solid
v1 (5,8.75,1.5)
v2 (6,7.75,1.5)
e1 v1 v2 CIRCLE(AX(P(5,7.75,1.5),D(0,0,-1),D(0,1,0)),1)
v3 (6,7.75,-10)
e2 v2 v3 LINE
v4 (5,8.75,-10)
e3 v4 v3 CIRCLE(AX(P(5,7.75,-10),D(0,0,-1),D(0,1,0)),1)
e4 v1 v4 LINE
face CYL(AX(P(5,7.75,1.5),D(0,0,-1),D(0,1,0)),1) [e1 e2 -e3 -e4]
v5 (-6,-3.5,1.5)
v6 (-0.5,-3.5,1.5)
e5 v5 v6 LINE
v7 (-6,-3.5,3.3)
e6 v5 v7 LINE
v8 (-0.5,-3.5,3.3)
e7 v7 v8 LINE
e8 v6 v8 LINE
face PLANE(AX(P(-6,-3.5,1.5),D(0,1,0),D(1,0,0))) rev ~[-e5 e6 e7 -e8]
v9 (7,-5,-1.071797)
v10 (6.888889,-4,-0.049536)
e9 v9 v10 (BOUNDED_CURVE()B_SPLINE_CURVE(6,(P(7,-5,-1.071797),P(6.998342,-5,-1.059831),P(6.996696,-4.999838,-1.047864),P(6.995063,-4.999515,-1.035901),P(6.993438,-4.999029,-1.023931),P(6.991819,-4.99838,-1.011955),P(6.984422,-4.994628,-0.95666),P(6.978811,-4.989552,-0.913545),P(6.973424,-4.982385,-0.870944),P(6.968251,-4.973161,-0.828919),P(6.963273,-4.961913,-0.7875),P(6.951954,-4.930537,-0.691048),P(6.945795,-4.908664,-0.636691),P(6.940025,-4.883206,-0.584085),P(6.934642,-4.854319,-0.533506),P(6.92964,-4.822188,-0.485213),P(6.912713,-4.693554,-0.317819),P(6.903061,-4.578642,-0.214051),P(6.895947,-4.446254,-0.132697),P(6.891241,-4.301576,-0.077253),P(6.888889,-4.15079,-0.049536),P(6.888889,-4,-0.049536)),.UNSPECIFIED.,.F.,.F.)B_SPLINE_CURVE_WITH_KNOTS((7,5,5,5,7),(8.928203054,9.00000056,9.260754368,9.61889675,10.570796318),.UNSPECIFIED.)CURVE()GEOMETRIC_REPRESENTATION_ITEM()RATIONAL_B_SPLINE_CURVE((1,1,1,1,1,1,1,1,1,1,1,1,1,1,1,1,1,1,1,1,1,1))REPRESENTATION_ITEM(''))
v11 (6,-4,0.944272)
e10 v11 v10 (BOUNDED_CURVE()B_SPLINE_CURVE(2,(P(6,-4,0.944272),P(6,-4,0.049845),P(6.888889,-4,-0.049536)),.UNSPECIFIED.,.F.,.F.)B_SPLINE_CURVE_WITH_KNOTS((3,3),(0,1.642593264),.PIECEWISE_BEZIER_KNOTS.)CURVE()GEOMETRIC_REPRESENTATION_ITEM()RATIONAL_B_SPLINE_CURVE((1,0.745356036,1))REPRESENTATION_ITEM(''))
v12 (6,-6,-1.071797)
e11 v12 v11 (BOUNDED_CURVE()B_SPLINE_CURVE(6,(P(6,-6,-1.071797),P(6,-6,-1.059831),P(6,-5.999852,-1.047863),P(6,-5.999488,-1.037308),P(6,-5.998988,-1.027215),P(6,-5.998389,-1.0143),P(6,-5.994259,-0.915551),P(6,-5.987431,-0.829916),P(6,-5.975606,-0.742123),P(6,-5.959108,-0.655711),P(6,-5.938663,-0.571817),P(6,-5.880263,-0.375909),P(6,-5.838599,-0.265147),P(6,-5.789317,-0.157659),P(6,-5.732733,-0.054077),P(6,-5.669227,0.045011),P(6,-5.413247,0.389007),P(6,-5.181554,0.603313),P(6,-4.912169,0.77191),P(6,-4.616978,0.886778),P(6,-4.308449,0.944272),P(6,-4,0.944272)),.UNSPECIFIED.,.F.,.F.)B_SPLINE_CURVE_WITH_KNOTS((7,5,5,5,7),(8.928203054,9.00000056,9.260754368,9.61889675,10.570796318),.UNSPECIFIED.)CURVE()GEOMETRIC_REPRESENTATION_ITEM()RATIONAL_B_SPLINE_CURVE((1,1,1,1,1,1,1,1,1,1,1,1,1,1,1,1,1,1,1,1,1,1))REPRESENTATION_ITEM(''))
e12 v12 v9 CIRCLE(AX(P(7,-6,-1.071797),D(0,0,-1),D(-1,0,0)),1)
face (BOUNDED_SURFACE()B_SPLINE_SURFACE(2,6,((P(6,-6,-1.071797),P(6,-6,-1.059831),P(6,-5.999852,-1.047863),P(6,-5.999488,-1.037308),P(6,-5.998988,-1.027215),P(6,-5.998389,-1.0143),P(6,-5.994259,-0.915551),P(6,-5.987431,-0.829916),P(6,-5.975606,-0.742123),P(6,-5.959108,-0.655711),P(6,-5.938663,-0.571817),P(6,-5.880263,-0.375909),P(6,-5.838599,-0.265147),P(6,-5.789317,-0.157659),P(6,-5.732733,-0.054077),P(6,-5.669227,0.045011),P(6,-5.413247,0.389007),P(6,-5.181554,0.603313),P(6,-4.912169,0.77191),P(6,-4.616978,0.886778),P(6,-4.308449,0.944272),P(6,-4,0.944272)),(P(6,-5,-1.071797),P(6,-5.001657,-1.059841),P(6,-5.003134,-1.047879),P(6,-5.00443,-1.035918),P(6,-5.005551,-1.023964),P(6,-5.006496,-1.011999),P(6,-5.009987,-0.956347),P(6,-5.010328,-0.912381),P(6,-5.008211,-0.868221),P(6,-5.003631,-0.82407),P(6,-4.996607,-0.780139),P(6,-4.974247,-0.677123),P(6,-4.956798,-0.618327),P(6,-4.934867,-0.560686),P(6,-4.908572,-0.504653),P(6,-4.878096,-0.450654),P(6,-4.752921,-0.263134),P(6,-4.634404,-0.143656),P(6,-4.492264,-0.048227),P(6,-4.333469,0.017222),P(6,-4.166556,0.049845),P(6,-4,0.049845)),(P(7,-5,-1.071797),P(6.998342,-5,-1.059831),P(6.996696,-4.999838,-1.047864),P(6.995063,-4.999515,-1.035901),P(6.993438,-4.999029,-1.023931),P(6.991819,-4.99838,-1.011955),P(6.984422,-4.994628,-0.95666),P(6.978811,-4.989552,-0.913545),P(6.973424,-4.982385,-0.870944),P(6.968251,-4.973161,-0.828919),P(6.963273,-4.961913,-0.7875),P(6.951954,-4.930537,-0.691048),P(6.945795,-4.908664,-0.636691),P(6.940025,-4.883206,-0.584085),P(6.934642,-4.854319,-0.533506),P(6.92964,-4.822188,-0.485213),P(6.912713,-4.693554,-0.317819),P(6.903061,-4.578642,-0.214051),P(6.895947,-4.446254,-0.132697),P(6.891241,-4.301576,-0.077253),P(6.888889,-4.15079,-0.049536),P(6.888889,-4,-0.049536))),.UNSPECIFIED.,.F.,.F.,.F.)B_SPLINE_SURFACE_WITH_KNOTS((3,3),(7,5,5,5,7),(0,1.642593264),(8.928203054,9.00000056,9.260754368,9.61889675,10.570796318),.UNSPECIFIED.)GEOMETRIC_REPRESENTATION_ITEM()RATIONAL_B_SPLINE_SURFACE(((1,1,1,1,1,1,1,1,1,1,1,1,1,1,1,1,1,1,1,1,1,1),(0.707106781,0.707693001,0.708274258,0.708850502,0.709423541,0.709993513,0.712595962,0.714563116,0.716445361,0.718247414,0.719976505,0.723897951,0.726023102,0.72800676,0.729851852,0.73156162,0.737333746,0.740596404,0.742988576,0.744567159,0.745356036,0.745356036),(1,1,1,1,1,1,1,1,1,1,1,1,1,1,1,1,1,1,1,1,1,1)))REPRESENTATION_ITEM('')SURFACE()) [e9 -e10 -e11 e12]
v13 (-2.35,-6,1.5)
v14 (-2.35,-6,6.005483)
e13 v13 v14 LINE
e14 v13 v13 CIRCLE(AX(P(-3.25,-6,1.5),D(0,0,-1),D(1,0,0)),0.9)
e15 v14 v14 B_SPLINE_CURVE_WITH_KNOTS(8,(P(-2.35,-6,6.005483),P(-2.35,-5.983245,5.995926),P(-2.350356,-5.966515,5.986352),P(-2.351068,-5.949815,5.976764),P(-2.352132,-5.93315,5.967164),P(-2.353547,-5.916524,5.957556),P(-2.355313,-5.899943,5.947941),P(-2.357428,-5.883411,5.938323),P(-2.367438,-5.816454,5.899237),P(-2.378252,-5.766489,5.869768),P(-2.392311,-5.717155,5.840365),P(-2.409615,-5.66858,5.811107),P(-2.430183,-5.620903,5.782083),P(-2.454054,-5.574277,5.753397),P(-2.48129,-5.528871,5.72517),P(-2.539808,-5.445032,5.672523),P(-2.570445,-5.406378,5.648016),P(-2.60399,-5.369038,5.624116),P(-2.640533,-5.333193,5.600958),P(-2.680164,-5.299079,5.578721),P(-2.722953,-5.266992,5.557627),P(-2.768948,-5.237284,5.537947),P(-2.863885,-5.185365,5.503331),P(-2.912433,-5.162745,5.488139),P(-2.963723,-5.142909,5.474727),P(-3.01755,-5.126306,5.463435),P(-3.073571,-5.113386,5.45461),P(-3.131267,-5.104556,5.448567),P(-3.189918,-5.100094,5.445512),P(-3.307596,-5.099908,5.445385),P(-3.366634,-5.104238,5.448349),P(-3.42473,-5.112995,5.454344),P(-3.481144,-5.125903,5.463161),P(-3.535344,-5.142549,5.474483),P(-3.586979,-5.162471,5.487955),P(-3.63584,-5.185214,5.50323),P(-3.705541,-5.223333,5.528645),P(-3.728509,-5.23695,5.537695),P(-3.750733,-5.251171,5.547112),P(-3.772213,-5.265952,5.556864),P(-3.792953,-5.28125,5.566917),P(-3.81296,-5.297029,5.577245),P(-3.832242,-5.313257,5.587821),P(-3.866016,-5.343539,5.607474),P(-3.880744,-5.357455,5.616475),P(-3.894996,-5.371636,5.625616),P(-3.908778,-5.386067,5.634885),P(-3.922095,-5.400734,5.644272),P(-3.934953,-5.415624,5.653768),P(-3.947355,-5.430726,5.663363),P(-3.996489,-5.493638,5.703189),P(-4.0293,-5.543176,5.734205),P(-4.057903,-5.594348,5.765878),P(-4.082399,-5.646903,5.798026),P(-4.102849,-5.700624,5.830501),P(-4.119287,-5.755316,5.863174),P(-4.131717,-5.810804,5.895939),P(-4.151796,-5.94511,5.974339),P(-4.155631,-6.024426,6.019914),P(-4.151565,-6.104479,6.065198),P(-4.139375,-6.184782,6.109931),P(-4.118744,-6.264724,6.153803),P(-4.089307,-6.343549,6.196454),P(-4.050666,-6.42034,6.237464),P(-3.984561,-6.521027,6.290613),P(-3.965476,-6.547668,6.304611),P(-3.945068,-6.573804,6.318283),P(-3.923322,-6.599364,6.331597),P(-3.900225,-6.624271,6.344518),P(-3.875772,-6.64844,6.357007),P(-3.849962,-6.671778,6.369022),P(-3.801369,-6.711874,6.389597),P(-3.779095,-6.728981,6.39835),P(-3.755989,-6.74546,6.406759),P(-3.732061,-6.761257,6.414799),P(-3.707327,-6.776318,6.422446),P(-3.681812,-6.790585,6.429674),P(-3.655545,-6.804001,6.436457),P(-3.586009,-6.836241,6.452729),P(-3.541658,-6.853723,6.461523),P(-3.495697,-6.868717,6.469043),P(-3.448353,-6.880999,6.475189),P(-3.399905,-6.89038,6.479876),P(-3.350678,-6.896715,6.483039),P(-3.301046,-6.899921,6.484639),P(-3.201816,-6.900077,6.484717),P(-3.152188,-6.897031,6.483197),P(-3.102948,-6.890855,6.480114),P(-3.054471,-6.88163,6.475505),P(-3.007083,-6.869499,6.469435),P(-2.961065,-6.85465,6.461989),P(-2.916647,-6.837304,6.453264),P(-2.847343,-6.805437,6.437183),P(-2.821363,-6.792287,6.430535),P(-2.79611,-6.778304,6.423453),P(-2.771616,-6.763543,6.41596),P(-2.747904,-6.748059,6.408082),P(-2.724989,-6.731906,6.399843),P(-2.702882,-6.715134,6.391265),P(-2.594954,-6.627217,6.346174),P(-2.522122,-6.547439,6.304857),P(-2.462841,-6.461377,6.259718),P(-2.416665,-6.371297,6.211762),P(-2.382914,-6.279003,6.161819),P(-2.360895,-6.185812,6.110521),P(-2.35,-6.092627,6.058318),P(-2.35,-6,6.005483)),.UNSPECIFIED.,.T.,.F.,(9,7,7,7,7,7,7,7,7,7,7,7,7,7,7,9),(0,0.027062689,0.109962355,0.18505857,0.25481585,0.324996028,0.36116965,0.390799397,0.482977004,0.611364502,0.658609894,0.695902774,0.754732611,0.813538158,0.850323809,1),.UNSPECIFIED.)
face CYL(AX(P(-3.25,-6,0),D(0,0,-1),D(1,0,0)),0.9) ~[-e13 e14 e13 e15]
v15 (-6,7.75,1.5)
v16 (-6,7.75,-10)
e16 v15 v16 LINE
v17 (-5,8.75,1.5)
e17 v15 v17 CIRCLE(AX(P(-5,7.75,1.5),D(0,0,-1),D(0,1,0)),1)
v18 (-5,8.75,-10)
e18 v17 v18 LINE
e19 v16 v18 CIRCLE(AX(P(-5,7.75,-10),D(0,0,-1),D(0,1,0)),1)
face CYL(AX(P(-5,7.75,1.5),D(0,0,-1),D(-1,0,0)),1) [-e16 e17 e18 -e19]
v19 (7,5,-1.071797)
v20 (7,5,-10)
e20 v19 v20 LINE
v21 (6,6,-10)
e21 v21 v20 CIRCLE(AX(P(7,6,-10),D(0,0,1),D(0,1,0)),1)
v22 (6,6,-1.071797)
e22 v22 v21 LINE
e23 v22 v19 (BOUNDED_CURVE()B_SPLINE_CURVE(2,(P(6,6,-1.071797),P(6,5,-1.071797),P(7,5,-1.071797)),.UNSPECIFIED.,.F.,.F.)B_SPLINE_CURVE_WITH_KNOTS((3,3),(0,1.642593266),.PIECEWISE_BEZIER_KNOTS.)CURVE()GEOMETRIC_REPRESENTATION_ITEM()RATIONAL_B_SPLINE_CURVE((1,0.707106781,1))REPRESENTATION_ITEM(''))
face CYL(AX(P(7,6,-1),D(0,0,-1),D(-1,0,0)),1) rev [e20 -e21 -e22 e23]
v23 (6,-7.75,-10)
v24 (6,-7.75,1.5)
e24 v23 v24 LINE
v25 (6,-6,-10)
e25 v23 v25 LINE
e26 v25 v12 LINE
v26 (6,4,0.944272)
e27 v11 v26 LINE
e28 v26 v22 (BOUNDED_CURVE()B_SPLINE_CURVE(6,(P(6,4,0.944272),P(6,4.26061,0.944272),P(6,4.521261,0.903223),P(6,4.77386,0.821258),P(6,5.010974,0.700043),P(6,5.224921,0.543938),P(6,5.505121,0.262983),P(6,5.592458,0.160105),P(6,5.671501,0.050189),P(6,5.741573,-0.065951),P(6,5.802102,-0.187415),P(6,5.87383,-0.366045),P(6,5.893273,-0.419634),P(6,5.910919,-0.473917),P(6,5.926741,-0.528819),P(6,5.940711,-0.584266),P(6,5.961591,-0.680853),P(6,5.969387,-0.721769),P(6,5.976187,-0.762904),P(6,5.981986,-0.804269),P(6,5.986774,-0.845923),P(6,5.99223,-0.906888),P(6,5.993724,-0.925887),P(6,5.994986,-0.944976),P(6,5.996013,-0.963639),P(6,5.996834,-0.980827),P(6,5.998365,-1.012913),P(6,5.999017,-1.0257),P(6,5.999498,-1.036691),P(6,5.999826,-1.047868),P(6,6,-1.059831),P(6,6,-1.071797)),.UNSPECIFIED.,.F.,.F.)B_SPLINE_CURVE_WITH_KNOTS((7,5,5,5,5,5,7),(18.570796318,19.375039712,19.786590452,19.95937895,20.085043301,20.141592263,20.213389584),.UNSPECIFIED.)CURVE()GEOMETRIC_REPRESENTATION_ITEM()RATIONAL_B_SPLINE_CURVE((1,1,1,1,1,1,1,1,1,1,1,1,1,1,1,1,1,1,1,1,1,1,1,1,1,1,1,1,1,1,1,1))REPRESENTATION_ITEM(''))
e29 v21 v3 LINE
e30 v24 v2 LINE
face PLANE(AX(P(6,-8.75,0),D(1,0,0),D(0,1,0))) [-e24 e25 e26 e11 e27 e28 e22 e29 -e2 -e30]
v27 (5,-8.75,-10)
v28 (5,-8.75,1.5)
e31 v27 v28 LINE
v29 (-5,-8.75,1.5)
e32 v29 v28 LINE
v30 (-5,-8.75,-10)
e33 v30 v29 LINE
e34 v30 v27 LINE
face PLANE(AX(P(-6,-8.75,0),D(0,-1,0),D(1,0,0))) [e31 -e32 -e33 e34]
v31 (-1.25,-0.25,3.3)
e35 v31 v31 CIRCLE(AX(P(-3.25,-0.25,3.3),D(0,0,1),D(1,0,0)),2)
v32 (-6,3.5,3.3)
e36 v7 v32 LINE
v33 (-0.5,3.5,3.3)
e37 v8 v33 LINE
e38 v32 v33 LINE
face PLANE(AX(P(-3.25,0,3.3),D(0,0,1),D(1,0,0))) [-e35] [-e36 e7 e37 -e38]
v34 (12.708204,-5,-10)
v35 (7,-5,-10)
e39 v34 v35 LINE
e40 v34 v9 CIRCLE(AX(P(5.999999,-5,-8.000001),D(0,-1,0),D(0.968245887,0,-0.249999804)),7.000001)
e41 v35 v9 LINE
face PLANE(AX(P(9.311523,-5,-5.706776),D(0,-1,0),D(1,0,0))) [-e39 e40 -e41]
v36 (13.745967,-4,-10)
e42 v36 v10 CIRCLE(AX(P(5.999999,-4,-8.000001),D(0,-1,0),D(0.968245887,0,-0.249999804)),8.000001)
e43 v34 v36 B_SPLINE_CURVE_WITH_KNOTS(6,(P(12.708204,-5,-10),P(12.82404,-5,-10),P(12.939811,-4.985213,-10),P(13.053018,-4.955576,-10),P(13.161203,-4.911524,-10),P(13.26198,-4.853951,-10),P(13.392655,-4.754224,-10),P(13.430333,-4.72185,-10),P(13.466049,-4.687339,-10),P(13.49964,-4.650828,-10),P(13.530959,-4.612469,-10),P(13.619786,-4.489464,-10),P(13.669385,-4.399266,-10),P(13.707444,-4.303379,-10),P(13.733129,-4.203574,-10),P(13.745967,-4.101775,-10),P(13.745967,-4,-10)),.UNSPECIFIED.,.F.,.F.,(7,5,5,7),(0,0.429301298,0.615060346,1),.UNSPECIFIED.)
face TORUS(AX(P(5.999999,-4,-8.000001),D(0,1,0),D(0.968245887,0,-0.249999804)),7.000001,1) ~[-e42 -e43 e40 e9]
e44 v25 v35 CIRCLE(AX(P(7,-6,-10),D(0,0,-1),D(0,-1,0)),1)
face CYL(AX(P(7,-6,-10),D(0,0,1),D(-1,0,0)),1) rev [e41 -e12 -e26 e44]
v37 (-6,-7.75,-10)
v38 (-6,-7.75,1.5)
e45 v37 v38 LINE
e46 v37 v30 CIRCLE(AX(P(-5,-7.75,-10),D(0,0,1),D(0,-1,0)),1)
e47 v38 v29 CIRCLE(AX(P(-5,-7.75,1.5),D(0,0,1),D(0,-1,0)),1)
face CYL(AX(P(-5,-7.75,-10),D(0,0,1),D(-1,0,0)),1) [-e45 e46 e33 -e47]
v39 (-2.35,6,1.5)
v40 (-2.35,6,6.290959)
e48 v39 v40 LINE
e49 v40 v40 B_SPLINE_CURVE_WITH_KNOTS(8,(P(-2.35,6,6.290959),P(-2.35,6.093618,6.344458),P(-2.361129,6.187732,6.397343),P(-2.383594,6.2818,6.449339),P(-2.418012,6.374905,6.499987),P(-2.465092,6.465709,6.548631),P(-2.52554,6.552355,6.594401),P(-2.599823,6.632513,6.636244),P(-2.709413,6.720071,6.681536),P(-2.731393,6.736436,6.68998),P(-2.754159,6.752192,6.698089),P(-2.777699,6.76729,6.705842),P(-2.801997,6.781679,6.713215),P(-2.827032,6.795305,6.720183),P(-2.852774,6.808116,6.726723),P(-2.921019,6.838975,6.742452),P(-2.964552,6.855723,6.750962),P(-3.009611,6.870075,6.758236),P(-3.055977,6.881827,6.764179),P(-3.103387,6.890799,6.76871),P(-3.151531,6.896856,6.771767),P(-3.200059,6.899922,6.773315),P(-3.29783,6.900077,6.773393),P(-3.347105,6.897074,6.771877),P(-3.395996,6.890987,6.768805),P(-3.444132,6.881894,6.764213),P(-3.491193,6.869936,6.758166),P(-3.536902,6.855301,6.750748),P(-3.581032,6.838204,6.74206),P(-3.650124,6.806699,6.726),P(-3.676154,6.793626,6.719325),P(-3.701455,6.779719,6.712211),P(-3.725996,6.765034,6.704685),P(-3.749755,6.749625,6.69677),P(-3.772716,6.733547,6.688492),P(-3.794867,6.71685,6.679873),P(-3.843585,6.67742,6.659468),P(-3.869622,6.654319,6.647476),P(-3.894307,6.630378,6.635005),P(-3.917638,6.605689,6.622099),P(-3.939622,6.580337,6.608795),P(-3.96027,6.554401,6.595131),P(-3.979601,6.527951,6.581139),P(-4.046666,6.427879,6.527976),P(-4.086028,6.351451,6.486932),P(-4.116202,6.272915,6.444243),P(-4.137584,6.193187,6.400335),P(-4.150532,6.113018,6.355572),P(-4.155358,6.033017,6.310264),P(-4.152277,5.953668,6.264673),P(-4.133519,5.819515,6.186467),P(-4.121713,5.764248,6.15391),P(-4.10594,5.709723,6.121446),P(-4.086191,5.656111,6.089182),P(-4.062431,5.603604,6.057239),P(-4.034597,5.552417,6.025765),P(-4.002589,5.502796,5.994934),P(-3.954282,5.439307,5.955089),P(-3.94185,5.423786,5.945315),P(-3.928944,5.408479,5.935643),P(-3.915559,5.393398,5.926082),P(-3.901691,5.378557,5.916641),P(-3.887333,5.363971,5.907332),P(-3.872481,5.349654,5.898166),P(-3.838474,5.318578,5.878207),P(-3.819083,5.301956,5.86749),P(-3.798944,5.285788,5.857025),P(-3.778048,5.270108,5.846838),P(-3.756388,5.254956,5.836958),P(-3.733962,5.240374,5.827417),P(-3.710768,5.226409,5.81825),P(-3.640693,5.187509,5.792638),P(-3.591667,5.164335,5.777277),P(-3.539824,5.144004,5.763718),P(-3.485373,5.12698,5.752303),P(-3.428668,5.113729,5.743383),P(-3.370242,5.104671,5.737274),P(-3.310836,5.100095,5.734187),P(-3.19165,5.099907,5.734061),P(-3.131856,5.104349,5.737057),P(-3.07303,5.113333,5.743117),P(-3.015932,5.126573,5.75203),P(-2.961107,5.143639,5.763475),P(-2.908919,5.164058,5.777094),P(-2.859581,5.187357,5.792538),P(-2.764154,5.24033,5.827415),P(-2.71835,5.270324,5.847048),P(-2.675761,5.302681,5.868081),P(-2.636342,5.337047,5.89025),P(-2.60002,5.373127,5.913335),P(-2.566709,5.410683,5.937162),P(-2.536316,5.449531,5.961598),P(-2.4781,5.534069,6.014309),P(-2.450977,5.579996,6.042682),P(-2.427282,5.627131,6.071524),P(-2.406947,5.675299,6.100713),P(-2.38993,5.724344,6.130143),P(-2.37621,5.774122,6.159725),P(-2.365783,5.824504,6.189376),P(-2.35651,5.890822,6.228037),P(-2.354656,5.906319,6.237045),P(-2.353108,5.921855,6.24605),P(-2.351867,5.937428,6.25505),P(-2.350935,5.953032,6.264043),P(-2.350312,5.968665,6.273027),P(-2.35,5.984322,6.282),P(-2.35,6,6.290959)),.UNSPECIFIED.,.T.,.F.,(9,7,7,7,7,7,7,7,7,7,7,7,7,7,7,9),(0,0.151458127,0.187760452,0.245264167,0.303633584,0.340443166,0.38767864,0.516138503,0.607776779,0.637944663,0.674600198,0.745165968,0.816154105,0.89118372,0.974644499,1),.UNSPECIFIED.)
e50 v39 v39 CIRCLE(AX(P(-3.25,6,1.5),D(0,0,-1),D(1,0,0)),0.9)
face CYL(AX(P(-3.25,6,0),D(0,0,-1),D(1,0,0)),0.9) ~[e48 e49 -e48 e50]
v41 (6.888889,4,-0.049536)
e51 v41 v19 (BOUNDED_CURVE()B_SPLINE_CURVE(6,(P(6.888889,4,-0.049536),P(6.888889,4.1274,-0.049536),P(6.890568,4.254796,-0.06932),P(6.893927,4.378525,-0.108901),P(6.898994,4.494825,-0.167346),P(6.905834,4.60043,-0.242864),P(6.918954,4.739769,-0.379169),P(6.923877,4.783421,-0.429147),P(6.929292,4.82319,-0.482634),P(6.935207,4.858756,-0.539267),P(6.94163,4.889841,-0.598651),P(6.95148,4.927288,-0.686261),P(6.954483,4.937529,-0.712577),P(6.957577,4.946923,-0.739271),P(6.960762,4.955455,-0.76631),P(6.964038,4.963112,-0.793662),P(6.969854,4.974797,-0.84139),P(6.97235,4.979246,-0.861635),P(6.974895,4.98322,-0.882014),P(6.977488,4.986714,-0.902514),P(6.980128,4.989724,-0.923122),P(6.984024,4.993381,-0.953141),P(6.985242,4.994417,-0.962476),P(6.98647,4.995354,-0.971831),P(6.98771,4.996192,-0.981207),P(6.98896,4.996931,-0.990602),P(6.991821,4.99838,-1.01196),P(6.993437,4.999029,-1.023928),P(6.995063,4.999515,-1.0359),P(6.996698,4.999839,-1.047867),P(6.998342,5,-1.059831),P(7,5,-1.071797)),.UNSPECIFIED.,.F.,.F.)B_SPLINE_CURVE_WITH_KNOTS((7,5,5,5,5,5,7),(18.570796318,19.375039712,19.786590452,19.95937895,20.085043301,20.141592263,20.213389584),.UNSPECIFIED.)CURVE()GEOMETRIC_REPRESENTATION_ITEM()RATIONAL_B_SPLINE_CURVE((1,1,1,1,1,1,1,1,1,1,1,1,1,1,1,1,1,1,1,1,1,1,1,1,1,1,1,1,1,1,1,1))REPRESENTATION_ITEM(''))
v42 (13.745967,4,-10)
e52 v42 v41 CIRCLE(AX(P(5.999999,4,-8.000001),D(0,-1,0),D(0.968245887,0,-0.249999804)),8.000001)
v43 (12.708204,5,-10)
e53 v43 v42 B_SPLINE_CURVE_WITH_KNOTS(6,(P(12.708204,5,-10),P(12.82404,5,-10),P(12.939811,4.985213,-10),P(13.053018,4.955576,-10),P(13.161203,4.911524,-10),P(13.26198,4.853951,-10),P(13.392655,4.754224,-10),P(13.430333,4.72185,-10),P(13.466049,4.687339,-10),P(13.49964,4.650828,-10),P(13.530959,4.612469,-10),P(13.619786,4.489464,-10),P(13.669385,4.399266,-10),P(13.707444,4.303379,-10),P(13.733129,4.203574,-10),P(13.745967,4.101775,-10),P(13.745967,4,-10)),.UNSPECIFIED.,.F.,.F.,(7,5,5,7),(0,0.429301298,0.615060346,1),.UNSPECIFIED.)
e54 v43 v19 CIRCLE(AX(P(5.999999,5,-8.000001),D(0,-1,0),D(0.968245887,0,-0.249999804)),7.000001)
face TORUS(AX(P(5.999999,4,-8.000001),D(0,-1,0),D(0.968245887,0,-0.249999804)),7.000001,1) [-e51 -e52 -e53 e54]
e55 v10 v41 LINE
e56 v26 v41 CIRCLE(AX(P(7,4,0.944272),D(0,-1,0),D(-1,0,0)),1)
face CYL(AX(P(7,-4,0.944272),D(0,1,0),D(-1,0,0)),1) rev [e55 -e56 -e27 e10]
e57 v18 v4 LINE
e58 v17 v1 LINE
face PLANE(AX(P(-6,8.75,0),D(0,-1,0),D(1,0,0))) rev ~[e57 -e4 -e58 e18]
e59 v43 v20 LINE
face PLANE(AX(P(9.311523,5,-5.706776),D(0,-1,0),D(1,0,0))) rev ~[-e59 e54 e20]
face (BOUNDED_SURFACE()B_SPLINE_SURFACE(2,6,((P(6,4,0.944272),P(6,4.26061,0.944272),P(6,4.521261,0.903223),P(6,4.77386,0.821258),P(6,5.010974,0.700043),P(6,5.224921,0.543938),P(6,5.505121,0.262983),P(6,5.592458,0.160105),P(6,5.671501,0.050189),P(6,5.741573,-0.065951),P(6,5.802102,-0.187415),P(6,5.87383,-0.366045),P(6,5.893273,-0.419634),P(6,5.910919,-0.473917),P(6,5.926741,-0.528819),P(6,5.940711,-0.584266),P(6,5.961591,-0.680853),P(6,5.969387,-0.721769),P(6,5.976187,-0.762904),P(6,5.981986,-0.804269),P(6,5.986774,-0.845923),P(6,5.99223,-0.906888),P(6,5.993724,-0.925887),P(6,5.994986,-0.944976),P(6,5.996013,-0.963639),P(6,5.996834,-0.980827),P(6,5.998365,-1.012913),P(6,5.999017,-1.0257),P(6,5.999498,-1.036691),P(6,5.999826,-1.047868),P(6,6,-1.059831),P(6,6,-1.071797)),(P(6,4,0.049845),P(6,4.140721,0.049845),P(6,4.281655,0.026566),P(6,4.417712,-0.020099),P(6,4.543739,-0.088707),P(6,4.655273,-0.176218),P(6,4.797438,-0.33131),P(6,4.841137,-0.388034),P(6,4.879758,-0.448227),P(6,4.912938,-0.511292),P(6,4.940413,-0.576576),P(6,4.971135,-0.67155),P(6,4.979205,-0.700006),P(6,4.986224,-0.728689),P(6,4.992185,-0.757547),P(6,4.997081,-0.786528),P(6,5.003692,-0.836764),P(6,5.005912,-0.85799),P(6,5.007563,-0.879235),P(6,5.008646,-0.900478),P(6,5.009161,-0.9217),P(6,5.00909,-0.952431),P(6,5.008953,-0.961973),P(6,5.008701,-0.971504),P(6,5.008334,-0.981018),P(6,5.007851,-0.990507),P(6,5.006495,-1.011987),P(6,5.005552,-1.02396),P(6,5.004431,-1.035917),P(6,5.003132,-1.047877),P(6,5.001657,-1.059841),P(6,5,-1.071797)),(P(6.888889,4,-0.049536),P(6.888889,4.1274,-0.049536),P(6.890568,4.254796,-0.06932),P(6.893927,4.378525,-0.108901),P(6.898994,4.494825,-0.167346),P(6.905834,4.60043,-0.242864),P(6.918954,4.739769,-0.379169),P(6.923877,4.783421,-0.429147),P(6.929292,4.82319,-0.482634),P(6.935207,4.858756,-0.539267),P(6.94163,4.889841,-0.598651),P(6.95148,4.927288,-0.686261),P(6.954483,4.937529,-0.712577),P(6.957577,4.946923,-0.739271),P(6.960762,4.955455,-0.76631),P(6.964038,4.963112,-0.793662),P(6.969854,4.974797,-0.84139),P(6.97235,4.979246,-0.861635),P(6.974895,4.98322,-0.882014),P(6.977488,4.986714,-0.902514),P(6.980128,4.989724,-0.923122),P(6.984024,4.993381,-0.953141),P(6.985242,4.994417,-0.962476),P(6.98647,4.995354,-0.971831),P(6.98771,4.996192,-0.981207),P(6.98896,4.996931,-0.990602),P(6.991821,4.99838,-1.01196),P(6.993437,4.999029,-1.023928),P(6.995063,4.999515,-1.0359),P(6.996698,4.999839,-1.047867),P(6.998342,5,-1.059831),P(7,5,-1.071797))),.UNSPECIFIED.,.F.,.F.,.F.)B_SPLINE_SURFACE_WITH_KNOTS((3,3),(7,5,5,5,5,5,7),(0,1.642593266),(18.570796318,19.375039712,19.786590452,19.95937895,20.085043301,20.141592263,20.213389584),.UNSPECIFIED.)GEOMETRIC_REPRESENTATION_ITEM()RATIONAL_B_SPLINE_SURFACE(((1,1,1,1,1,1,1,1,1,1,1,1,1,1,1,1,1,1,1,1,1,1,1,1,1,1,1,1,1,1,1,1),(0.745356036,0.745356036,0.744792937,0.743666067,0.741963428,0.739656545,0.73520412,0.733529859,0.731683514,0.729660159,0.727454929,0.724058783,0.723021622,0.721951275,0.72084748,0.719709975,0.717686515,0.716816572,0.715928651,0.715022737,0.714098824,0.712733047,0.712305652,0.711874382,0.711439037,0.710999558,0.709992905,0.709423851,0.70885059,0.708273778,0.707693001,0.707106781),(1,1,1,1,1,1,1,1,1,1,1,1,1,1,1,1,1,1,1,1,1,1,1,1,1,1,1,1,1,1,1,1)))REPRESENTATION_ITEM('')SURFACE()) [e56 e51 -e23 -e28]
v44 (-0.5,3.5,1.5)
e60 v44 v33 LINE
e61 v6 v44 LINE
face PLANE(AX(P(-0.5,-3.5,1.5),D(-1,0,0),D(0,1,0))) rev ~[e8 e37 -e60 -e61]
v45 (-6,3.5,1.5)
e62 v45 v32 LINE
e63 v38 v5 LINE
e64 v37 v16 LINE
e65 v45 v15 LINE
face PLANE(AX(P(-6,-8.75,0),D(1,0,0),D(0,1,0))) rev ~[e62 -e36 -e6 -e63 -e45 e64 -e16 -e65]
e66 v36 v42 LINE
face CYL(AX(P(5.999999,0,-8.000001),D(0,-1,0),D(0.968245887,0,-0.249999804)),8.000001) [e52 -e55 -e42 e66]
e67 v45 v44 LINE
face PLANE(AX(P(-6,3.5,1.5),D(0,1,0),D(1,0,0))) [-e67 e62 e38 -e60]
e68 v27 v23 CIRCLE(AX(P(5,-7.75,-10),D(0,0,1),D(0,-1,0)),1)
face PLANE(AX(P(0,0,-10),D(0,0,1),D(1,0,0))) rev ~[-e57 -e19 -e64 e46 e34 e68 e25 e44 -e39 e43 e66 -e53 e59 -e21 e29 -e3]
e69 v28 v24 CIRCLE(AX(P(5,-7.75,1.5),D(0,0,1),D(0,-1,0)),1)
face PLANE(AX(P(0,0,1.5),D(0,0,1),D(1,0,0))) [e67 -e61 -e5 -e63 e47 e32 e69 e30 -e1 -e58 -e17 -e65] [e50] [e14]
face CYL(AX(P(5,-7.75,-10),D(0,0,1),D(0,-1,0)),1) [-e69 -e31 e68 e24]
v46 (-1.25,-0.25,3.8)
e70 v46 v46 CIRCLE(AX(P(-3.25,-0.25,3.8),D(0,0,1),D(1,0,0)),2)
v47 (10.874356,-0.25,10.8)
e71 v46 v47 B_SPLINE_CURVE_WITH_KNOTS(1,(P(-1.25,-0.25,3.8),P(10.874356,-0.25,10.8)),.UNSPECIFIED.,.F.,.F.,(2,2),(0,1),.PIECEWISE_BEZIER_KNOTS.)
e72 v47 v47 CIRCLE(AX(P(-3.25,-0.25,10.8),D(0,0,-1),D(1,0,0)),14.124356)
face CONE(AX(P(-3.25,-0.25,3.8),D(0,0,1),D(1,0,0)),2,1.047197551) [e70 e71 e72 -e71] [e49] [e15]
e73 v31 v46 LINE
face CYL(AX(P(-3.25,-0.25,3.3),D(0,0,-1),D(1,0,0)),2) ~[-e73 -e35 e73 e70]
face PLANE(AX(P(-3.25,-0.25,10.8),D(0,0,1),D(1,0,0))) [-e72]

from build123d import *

# Parameters (mm, degrees)
SKETCH_W       = 12
SKETCH_H       = 17.5
PAD_DEPTH      = 1.5
PAD_DEPTH_BACK = 10
SKETCH001_R    = 0.9
PAD001_DEPTH   = 10
PAD002_DEPTH   = 5
FILLET_R       = 1
FILLET001_R    = 1
FILLET002_R    = 1
SKETCH003_W    = 5.5
SKETCH003_H    = 7
PAD003_DEPTH   = 1.8
SKETCH004_R    = 2
PAD004_DEPTH   = 0.5
SKETCH005_R    = 2
PAD005_DEPTH   = 7
PAD005_TAPER   = -60


with BuildPart() as part:
    # Sketch → Pad (new body, two sides)
    with BuildSketch(Plane.XY) as pad_sk:
        Rectangle(SKETCH_W, SKETCH_H)
    extrude(amount=PAD_DEPTH)
    extrude(pad_sk.sketch, amount=-PAD_DEPTH_BACK)

    # Sketch001 → Pad001 (join)
    with BuildSketch(Plane.XY):
        with Locations((-3.25, 6)):
            Circle(SKETCH001_R)
        with Locations((-3.25, -6)):
            Circle(SKETCH001_R)
    extrude(amount=PAD001_DEPTH)

    # Sketch002 → Pad002 (join, symmetric)
    with BuildSketch(Plane.XZ):
        with BuildLine():
            ThreePointArc((13.745967, -10), (12.324555, -3.101021), (6, 0))
            Line((6, -10), (6, 0))
            Line((13.745967, -10), (6, -10))
        make_face()
    extrude(amount=PAD002_DEPTH, both=True)

    # Fillet
    fillet_edges = [part.edges().sort_by_distance(p)[0] for p in [
        (6, -8.75, -4.25),
        (-6, -8.75, -4.25),
        (6, 8.75, -4.25),
        (-6, 8.75, -4.25),
    ]]
    fillet(fillet_edges, radius=FILLET_R)

    # Fillet001
    fillet001_edges = [part.edges().sort_by_distance(p)[0] for p in [
        (12.324555, -5, -3.101021),
        (12.324555, 5, -3.101021),
    ]]
    fillet(fillet001_edges, radius=FILLET001_R)

    # Fillet002
    fillet002_edges = [part.edges().sort_by_distance(p)[0] for p in [
        (6, -5, -5.5),
    ]]
    fillet(fillet002_edges, radius=FILLET002_R)

    # Sketch003 (on Face6 of Fillet002) → Pad003 (join)
    with BuildSketch(Plane.XY.offset(1.5)):
        with Locations((-3.25, 0)):
            Rectangle(SKETCH003_W, SKETCH003_H)
    extrude(amount=PAD003_DEPTH)

    # Sketch004 (on Face28 of Pad003) → Pad004 (join)
    with BuildSketch(Plane.XY.offset(3.3)):
        with Locations((-3.25, -0.25)):
            Circle(SKETCH004_R)
    extrude(amount=PAD004_DEPTH)

    # Sketch005 (on Face32 of Pad004) → Pad005 (join)
    with BuildSketch(Plane.XY.offset(3.8)):
        with Locations((-3.25, -0.25)):
            Circle(SKETCH005_R)
    extrude(amount=PAD005_DEPTH, taper=PAD005_TAPER)


solid = part.part
